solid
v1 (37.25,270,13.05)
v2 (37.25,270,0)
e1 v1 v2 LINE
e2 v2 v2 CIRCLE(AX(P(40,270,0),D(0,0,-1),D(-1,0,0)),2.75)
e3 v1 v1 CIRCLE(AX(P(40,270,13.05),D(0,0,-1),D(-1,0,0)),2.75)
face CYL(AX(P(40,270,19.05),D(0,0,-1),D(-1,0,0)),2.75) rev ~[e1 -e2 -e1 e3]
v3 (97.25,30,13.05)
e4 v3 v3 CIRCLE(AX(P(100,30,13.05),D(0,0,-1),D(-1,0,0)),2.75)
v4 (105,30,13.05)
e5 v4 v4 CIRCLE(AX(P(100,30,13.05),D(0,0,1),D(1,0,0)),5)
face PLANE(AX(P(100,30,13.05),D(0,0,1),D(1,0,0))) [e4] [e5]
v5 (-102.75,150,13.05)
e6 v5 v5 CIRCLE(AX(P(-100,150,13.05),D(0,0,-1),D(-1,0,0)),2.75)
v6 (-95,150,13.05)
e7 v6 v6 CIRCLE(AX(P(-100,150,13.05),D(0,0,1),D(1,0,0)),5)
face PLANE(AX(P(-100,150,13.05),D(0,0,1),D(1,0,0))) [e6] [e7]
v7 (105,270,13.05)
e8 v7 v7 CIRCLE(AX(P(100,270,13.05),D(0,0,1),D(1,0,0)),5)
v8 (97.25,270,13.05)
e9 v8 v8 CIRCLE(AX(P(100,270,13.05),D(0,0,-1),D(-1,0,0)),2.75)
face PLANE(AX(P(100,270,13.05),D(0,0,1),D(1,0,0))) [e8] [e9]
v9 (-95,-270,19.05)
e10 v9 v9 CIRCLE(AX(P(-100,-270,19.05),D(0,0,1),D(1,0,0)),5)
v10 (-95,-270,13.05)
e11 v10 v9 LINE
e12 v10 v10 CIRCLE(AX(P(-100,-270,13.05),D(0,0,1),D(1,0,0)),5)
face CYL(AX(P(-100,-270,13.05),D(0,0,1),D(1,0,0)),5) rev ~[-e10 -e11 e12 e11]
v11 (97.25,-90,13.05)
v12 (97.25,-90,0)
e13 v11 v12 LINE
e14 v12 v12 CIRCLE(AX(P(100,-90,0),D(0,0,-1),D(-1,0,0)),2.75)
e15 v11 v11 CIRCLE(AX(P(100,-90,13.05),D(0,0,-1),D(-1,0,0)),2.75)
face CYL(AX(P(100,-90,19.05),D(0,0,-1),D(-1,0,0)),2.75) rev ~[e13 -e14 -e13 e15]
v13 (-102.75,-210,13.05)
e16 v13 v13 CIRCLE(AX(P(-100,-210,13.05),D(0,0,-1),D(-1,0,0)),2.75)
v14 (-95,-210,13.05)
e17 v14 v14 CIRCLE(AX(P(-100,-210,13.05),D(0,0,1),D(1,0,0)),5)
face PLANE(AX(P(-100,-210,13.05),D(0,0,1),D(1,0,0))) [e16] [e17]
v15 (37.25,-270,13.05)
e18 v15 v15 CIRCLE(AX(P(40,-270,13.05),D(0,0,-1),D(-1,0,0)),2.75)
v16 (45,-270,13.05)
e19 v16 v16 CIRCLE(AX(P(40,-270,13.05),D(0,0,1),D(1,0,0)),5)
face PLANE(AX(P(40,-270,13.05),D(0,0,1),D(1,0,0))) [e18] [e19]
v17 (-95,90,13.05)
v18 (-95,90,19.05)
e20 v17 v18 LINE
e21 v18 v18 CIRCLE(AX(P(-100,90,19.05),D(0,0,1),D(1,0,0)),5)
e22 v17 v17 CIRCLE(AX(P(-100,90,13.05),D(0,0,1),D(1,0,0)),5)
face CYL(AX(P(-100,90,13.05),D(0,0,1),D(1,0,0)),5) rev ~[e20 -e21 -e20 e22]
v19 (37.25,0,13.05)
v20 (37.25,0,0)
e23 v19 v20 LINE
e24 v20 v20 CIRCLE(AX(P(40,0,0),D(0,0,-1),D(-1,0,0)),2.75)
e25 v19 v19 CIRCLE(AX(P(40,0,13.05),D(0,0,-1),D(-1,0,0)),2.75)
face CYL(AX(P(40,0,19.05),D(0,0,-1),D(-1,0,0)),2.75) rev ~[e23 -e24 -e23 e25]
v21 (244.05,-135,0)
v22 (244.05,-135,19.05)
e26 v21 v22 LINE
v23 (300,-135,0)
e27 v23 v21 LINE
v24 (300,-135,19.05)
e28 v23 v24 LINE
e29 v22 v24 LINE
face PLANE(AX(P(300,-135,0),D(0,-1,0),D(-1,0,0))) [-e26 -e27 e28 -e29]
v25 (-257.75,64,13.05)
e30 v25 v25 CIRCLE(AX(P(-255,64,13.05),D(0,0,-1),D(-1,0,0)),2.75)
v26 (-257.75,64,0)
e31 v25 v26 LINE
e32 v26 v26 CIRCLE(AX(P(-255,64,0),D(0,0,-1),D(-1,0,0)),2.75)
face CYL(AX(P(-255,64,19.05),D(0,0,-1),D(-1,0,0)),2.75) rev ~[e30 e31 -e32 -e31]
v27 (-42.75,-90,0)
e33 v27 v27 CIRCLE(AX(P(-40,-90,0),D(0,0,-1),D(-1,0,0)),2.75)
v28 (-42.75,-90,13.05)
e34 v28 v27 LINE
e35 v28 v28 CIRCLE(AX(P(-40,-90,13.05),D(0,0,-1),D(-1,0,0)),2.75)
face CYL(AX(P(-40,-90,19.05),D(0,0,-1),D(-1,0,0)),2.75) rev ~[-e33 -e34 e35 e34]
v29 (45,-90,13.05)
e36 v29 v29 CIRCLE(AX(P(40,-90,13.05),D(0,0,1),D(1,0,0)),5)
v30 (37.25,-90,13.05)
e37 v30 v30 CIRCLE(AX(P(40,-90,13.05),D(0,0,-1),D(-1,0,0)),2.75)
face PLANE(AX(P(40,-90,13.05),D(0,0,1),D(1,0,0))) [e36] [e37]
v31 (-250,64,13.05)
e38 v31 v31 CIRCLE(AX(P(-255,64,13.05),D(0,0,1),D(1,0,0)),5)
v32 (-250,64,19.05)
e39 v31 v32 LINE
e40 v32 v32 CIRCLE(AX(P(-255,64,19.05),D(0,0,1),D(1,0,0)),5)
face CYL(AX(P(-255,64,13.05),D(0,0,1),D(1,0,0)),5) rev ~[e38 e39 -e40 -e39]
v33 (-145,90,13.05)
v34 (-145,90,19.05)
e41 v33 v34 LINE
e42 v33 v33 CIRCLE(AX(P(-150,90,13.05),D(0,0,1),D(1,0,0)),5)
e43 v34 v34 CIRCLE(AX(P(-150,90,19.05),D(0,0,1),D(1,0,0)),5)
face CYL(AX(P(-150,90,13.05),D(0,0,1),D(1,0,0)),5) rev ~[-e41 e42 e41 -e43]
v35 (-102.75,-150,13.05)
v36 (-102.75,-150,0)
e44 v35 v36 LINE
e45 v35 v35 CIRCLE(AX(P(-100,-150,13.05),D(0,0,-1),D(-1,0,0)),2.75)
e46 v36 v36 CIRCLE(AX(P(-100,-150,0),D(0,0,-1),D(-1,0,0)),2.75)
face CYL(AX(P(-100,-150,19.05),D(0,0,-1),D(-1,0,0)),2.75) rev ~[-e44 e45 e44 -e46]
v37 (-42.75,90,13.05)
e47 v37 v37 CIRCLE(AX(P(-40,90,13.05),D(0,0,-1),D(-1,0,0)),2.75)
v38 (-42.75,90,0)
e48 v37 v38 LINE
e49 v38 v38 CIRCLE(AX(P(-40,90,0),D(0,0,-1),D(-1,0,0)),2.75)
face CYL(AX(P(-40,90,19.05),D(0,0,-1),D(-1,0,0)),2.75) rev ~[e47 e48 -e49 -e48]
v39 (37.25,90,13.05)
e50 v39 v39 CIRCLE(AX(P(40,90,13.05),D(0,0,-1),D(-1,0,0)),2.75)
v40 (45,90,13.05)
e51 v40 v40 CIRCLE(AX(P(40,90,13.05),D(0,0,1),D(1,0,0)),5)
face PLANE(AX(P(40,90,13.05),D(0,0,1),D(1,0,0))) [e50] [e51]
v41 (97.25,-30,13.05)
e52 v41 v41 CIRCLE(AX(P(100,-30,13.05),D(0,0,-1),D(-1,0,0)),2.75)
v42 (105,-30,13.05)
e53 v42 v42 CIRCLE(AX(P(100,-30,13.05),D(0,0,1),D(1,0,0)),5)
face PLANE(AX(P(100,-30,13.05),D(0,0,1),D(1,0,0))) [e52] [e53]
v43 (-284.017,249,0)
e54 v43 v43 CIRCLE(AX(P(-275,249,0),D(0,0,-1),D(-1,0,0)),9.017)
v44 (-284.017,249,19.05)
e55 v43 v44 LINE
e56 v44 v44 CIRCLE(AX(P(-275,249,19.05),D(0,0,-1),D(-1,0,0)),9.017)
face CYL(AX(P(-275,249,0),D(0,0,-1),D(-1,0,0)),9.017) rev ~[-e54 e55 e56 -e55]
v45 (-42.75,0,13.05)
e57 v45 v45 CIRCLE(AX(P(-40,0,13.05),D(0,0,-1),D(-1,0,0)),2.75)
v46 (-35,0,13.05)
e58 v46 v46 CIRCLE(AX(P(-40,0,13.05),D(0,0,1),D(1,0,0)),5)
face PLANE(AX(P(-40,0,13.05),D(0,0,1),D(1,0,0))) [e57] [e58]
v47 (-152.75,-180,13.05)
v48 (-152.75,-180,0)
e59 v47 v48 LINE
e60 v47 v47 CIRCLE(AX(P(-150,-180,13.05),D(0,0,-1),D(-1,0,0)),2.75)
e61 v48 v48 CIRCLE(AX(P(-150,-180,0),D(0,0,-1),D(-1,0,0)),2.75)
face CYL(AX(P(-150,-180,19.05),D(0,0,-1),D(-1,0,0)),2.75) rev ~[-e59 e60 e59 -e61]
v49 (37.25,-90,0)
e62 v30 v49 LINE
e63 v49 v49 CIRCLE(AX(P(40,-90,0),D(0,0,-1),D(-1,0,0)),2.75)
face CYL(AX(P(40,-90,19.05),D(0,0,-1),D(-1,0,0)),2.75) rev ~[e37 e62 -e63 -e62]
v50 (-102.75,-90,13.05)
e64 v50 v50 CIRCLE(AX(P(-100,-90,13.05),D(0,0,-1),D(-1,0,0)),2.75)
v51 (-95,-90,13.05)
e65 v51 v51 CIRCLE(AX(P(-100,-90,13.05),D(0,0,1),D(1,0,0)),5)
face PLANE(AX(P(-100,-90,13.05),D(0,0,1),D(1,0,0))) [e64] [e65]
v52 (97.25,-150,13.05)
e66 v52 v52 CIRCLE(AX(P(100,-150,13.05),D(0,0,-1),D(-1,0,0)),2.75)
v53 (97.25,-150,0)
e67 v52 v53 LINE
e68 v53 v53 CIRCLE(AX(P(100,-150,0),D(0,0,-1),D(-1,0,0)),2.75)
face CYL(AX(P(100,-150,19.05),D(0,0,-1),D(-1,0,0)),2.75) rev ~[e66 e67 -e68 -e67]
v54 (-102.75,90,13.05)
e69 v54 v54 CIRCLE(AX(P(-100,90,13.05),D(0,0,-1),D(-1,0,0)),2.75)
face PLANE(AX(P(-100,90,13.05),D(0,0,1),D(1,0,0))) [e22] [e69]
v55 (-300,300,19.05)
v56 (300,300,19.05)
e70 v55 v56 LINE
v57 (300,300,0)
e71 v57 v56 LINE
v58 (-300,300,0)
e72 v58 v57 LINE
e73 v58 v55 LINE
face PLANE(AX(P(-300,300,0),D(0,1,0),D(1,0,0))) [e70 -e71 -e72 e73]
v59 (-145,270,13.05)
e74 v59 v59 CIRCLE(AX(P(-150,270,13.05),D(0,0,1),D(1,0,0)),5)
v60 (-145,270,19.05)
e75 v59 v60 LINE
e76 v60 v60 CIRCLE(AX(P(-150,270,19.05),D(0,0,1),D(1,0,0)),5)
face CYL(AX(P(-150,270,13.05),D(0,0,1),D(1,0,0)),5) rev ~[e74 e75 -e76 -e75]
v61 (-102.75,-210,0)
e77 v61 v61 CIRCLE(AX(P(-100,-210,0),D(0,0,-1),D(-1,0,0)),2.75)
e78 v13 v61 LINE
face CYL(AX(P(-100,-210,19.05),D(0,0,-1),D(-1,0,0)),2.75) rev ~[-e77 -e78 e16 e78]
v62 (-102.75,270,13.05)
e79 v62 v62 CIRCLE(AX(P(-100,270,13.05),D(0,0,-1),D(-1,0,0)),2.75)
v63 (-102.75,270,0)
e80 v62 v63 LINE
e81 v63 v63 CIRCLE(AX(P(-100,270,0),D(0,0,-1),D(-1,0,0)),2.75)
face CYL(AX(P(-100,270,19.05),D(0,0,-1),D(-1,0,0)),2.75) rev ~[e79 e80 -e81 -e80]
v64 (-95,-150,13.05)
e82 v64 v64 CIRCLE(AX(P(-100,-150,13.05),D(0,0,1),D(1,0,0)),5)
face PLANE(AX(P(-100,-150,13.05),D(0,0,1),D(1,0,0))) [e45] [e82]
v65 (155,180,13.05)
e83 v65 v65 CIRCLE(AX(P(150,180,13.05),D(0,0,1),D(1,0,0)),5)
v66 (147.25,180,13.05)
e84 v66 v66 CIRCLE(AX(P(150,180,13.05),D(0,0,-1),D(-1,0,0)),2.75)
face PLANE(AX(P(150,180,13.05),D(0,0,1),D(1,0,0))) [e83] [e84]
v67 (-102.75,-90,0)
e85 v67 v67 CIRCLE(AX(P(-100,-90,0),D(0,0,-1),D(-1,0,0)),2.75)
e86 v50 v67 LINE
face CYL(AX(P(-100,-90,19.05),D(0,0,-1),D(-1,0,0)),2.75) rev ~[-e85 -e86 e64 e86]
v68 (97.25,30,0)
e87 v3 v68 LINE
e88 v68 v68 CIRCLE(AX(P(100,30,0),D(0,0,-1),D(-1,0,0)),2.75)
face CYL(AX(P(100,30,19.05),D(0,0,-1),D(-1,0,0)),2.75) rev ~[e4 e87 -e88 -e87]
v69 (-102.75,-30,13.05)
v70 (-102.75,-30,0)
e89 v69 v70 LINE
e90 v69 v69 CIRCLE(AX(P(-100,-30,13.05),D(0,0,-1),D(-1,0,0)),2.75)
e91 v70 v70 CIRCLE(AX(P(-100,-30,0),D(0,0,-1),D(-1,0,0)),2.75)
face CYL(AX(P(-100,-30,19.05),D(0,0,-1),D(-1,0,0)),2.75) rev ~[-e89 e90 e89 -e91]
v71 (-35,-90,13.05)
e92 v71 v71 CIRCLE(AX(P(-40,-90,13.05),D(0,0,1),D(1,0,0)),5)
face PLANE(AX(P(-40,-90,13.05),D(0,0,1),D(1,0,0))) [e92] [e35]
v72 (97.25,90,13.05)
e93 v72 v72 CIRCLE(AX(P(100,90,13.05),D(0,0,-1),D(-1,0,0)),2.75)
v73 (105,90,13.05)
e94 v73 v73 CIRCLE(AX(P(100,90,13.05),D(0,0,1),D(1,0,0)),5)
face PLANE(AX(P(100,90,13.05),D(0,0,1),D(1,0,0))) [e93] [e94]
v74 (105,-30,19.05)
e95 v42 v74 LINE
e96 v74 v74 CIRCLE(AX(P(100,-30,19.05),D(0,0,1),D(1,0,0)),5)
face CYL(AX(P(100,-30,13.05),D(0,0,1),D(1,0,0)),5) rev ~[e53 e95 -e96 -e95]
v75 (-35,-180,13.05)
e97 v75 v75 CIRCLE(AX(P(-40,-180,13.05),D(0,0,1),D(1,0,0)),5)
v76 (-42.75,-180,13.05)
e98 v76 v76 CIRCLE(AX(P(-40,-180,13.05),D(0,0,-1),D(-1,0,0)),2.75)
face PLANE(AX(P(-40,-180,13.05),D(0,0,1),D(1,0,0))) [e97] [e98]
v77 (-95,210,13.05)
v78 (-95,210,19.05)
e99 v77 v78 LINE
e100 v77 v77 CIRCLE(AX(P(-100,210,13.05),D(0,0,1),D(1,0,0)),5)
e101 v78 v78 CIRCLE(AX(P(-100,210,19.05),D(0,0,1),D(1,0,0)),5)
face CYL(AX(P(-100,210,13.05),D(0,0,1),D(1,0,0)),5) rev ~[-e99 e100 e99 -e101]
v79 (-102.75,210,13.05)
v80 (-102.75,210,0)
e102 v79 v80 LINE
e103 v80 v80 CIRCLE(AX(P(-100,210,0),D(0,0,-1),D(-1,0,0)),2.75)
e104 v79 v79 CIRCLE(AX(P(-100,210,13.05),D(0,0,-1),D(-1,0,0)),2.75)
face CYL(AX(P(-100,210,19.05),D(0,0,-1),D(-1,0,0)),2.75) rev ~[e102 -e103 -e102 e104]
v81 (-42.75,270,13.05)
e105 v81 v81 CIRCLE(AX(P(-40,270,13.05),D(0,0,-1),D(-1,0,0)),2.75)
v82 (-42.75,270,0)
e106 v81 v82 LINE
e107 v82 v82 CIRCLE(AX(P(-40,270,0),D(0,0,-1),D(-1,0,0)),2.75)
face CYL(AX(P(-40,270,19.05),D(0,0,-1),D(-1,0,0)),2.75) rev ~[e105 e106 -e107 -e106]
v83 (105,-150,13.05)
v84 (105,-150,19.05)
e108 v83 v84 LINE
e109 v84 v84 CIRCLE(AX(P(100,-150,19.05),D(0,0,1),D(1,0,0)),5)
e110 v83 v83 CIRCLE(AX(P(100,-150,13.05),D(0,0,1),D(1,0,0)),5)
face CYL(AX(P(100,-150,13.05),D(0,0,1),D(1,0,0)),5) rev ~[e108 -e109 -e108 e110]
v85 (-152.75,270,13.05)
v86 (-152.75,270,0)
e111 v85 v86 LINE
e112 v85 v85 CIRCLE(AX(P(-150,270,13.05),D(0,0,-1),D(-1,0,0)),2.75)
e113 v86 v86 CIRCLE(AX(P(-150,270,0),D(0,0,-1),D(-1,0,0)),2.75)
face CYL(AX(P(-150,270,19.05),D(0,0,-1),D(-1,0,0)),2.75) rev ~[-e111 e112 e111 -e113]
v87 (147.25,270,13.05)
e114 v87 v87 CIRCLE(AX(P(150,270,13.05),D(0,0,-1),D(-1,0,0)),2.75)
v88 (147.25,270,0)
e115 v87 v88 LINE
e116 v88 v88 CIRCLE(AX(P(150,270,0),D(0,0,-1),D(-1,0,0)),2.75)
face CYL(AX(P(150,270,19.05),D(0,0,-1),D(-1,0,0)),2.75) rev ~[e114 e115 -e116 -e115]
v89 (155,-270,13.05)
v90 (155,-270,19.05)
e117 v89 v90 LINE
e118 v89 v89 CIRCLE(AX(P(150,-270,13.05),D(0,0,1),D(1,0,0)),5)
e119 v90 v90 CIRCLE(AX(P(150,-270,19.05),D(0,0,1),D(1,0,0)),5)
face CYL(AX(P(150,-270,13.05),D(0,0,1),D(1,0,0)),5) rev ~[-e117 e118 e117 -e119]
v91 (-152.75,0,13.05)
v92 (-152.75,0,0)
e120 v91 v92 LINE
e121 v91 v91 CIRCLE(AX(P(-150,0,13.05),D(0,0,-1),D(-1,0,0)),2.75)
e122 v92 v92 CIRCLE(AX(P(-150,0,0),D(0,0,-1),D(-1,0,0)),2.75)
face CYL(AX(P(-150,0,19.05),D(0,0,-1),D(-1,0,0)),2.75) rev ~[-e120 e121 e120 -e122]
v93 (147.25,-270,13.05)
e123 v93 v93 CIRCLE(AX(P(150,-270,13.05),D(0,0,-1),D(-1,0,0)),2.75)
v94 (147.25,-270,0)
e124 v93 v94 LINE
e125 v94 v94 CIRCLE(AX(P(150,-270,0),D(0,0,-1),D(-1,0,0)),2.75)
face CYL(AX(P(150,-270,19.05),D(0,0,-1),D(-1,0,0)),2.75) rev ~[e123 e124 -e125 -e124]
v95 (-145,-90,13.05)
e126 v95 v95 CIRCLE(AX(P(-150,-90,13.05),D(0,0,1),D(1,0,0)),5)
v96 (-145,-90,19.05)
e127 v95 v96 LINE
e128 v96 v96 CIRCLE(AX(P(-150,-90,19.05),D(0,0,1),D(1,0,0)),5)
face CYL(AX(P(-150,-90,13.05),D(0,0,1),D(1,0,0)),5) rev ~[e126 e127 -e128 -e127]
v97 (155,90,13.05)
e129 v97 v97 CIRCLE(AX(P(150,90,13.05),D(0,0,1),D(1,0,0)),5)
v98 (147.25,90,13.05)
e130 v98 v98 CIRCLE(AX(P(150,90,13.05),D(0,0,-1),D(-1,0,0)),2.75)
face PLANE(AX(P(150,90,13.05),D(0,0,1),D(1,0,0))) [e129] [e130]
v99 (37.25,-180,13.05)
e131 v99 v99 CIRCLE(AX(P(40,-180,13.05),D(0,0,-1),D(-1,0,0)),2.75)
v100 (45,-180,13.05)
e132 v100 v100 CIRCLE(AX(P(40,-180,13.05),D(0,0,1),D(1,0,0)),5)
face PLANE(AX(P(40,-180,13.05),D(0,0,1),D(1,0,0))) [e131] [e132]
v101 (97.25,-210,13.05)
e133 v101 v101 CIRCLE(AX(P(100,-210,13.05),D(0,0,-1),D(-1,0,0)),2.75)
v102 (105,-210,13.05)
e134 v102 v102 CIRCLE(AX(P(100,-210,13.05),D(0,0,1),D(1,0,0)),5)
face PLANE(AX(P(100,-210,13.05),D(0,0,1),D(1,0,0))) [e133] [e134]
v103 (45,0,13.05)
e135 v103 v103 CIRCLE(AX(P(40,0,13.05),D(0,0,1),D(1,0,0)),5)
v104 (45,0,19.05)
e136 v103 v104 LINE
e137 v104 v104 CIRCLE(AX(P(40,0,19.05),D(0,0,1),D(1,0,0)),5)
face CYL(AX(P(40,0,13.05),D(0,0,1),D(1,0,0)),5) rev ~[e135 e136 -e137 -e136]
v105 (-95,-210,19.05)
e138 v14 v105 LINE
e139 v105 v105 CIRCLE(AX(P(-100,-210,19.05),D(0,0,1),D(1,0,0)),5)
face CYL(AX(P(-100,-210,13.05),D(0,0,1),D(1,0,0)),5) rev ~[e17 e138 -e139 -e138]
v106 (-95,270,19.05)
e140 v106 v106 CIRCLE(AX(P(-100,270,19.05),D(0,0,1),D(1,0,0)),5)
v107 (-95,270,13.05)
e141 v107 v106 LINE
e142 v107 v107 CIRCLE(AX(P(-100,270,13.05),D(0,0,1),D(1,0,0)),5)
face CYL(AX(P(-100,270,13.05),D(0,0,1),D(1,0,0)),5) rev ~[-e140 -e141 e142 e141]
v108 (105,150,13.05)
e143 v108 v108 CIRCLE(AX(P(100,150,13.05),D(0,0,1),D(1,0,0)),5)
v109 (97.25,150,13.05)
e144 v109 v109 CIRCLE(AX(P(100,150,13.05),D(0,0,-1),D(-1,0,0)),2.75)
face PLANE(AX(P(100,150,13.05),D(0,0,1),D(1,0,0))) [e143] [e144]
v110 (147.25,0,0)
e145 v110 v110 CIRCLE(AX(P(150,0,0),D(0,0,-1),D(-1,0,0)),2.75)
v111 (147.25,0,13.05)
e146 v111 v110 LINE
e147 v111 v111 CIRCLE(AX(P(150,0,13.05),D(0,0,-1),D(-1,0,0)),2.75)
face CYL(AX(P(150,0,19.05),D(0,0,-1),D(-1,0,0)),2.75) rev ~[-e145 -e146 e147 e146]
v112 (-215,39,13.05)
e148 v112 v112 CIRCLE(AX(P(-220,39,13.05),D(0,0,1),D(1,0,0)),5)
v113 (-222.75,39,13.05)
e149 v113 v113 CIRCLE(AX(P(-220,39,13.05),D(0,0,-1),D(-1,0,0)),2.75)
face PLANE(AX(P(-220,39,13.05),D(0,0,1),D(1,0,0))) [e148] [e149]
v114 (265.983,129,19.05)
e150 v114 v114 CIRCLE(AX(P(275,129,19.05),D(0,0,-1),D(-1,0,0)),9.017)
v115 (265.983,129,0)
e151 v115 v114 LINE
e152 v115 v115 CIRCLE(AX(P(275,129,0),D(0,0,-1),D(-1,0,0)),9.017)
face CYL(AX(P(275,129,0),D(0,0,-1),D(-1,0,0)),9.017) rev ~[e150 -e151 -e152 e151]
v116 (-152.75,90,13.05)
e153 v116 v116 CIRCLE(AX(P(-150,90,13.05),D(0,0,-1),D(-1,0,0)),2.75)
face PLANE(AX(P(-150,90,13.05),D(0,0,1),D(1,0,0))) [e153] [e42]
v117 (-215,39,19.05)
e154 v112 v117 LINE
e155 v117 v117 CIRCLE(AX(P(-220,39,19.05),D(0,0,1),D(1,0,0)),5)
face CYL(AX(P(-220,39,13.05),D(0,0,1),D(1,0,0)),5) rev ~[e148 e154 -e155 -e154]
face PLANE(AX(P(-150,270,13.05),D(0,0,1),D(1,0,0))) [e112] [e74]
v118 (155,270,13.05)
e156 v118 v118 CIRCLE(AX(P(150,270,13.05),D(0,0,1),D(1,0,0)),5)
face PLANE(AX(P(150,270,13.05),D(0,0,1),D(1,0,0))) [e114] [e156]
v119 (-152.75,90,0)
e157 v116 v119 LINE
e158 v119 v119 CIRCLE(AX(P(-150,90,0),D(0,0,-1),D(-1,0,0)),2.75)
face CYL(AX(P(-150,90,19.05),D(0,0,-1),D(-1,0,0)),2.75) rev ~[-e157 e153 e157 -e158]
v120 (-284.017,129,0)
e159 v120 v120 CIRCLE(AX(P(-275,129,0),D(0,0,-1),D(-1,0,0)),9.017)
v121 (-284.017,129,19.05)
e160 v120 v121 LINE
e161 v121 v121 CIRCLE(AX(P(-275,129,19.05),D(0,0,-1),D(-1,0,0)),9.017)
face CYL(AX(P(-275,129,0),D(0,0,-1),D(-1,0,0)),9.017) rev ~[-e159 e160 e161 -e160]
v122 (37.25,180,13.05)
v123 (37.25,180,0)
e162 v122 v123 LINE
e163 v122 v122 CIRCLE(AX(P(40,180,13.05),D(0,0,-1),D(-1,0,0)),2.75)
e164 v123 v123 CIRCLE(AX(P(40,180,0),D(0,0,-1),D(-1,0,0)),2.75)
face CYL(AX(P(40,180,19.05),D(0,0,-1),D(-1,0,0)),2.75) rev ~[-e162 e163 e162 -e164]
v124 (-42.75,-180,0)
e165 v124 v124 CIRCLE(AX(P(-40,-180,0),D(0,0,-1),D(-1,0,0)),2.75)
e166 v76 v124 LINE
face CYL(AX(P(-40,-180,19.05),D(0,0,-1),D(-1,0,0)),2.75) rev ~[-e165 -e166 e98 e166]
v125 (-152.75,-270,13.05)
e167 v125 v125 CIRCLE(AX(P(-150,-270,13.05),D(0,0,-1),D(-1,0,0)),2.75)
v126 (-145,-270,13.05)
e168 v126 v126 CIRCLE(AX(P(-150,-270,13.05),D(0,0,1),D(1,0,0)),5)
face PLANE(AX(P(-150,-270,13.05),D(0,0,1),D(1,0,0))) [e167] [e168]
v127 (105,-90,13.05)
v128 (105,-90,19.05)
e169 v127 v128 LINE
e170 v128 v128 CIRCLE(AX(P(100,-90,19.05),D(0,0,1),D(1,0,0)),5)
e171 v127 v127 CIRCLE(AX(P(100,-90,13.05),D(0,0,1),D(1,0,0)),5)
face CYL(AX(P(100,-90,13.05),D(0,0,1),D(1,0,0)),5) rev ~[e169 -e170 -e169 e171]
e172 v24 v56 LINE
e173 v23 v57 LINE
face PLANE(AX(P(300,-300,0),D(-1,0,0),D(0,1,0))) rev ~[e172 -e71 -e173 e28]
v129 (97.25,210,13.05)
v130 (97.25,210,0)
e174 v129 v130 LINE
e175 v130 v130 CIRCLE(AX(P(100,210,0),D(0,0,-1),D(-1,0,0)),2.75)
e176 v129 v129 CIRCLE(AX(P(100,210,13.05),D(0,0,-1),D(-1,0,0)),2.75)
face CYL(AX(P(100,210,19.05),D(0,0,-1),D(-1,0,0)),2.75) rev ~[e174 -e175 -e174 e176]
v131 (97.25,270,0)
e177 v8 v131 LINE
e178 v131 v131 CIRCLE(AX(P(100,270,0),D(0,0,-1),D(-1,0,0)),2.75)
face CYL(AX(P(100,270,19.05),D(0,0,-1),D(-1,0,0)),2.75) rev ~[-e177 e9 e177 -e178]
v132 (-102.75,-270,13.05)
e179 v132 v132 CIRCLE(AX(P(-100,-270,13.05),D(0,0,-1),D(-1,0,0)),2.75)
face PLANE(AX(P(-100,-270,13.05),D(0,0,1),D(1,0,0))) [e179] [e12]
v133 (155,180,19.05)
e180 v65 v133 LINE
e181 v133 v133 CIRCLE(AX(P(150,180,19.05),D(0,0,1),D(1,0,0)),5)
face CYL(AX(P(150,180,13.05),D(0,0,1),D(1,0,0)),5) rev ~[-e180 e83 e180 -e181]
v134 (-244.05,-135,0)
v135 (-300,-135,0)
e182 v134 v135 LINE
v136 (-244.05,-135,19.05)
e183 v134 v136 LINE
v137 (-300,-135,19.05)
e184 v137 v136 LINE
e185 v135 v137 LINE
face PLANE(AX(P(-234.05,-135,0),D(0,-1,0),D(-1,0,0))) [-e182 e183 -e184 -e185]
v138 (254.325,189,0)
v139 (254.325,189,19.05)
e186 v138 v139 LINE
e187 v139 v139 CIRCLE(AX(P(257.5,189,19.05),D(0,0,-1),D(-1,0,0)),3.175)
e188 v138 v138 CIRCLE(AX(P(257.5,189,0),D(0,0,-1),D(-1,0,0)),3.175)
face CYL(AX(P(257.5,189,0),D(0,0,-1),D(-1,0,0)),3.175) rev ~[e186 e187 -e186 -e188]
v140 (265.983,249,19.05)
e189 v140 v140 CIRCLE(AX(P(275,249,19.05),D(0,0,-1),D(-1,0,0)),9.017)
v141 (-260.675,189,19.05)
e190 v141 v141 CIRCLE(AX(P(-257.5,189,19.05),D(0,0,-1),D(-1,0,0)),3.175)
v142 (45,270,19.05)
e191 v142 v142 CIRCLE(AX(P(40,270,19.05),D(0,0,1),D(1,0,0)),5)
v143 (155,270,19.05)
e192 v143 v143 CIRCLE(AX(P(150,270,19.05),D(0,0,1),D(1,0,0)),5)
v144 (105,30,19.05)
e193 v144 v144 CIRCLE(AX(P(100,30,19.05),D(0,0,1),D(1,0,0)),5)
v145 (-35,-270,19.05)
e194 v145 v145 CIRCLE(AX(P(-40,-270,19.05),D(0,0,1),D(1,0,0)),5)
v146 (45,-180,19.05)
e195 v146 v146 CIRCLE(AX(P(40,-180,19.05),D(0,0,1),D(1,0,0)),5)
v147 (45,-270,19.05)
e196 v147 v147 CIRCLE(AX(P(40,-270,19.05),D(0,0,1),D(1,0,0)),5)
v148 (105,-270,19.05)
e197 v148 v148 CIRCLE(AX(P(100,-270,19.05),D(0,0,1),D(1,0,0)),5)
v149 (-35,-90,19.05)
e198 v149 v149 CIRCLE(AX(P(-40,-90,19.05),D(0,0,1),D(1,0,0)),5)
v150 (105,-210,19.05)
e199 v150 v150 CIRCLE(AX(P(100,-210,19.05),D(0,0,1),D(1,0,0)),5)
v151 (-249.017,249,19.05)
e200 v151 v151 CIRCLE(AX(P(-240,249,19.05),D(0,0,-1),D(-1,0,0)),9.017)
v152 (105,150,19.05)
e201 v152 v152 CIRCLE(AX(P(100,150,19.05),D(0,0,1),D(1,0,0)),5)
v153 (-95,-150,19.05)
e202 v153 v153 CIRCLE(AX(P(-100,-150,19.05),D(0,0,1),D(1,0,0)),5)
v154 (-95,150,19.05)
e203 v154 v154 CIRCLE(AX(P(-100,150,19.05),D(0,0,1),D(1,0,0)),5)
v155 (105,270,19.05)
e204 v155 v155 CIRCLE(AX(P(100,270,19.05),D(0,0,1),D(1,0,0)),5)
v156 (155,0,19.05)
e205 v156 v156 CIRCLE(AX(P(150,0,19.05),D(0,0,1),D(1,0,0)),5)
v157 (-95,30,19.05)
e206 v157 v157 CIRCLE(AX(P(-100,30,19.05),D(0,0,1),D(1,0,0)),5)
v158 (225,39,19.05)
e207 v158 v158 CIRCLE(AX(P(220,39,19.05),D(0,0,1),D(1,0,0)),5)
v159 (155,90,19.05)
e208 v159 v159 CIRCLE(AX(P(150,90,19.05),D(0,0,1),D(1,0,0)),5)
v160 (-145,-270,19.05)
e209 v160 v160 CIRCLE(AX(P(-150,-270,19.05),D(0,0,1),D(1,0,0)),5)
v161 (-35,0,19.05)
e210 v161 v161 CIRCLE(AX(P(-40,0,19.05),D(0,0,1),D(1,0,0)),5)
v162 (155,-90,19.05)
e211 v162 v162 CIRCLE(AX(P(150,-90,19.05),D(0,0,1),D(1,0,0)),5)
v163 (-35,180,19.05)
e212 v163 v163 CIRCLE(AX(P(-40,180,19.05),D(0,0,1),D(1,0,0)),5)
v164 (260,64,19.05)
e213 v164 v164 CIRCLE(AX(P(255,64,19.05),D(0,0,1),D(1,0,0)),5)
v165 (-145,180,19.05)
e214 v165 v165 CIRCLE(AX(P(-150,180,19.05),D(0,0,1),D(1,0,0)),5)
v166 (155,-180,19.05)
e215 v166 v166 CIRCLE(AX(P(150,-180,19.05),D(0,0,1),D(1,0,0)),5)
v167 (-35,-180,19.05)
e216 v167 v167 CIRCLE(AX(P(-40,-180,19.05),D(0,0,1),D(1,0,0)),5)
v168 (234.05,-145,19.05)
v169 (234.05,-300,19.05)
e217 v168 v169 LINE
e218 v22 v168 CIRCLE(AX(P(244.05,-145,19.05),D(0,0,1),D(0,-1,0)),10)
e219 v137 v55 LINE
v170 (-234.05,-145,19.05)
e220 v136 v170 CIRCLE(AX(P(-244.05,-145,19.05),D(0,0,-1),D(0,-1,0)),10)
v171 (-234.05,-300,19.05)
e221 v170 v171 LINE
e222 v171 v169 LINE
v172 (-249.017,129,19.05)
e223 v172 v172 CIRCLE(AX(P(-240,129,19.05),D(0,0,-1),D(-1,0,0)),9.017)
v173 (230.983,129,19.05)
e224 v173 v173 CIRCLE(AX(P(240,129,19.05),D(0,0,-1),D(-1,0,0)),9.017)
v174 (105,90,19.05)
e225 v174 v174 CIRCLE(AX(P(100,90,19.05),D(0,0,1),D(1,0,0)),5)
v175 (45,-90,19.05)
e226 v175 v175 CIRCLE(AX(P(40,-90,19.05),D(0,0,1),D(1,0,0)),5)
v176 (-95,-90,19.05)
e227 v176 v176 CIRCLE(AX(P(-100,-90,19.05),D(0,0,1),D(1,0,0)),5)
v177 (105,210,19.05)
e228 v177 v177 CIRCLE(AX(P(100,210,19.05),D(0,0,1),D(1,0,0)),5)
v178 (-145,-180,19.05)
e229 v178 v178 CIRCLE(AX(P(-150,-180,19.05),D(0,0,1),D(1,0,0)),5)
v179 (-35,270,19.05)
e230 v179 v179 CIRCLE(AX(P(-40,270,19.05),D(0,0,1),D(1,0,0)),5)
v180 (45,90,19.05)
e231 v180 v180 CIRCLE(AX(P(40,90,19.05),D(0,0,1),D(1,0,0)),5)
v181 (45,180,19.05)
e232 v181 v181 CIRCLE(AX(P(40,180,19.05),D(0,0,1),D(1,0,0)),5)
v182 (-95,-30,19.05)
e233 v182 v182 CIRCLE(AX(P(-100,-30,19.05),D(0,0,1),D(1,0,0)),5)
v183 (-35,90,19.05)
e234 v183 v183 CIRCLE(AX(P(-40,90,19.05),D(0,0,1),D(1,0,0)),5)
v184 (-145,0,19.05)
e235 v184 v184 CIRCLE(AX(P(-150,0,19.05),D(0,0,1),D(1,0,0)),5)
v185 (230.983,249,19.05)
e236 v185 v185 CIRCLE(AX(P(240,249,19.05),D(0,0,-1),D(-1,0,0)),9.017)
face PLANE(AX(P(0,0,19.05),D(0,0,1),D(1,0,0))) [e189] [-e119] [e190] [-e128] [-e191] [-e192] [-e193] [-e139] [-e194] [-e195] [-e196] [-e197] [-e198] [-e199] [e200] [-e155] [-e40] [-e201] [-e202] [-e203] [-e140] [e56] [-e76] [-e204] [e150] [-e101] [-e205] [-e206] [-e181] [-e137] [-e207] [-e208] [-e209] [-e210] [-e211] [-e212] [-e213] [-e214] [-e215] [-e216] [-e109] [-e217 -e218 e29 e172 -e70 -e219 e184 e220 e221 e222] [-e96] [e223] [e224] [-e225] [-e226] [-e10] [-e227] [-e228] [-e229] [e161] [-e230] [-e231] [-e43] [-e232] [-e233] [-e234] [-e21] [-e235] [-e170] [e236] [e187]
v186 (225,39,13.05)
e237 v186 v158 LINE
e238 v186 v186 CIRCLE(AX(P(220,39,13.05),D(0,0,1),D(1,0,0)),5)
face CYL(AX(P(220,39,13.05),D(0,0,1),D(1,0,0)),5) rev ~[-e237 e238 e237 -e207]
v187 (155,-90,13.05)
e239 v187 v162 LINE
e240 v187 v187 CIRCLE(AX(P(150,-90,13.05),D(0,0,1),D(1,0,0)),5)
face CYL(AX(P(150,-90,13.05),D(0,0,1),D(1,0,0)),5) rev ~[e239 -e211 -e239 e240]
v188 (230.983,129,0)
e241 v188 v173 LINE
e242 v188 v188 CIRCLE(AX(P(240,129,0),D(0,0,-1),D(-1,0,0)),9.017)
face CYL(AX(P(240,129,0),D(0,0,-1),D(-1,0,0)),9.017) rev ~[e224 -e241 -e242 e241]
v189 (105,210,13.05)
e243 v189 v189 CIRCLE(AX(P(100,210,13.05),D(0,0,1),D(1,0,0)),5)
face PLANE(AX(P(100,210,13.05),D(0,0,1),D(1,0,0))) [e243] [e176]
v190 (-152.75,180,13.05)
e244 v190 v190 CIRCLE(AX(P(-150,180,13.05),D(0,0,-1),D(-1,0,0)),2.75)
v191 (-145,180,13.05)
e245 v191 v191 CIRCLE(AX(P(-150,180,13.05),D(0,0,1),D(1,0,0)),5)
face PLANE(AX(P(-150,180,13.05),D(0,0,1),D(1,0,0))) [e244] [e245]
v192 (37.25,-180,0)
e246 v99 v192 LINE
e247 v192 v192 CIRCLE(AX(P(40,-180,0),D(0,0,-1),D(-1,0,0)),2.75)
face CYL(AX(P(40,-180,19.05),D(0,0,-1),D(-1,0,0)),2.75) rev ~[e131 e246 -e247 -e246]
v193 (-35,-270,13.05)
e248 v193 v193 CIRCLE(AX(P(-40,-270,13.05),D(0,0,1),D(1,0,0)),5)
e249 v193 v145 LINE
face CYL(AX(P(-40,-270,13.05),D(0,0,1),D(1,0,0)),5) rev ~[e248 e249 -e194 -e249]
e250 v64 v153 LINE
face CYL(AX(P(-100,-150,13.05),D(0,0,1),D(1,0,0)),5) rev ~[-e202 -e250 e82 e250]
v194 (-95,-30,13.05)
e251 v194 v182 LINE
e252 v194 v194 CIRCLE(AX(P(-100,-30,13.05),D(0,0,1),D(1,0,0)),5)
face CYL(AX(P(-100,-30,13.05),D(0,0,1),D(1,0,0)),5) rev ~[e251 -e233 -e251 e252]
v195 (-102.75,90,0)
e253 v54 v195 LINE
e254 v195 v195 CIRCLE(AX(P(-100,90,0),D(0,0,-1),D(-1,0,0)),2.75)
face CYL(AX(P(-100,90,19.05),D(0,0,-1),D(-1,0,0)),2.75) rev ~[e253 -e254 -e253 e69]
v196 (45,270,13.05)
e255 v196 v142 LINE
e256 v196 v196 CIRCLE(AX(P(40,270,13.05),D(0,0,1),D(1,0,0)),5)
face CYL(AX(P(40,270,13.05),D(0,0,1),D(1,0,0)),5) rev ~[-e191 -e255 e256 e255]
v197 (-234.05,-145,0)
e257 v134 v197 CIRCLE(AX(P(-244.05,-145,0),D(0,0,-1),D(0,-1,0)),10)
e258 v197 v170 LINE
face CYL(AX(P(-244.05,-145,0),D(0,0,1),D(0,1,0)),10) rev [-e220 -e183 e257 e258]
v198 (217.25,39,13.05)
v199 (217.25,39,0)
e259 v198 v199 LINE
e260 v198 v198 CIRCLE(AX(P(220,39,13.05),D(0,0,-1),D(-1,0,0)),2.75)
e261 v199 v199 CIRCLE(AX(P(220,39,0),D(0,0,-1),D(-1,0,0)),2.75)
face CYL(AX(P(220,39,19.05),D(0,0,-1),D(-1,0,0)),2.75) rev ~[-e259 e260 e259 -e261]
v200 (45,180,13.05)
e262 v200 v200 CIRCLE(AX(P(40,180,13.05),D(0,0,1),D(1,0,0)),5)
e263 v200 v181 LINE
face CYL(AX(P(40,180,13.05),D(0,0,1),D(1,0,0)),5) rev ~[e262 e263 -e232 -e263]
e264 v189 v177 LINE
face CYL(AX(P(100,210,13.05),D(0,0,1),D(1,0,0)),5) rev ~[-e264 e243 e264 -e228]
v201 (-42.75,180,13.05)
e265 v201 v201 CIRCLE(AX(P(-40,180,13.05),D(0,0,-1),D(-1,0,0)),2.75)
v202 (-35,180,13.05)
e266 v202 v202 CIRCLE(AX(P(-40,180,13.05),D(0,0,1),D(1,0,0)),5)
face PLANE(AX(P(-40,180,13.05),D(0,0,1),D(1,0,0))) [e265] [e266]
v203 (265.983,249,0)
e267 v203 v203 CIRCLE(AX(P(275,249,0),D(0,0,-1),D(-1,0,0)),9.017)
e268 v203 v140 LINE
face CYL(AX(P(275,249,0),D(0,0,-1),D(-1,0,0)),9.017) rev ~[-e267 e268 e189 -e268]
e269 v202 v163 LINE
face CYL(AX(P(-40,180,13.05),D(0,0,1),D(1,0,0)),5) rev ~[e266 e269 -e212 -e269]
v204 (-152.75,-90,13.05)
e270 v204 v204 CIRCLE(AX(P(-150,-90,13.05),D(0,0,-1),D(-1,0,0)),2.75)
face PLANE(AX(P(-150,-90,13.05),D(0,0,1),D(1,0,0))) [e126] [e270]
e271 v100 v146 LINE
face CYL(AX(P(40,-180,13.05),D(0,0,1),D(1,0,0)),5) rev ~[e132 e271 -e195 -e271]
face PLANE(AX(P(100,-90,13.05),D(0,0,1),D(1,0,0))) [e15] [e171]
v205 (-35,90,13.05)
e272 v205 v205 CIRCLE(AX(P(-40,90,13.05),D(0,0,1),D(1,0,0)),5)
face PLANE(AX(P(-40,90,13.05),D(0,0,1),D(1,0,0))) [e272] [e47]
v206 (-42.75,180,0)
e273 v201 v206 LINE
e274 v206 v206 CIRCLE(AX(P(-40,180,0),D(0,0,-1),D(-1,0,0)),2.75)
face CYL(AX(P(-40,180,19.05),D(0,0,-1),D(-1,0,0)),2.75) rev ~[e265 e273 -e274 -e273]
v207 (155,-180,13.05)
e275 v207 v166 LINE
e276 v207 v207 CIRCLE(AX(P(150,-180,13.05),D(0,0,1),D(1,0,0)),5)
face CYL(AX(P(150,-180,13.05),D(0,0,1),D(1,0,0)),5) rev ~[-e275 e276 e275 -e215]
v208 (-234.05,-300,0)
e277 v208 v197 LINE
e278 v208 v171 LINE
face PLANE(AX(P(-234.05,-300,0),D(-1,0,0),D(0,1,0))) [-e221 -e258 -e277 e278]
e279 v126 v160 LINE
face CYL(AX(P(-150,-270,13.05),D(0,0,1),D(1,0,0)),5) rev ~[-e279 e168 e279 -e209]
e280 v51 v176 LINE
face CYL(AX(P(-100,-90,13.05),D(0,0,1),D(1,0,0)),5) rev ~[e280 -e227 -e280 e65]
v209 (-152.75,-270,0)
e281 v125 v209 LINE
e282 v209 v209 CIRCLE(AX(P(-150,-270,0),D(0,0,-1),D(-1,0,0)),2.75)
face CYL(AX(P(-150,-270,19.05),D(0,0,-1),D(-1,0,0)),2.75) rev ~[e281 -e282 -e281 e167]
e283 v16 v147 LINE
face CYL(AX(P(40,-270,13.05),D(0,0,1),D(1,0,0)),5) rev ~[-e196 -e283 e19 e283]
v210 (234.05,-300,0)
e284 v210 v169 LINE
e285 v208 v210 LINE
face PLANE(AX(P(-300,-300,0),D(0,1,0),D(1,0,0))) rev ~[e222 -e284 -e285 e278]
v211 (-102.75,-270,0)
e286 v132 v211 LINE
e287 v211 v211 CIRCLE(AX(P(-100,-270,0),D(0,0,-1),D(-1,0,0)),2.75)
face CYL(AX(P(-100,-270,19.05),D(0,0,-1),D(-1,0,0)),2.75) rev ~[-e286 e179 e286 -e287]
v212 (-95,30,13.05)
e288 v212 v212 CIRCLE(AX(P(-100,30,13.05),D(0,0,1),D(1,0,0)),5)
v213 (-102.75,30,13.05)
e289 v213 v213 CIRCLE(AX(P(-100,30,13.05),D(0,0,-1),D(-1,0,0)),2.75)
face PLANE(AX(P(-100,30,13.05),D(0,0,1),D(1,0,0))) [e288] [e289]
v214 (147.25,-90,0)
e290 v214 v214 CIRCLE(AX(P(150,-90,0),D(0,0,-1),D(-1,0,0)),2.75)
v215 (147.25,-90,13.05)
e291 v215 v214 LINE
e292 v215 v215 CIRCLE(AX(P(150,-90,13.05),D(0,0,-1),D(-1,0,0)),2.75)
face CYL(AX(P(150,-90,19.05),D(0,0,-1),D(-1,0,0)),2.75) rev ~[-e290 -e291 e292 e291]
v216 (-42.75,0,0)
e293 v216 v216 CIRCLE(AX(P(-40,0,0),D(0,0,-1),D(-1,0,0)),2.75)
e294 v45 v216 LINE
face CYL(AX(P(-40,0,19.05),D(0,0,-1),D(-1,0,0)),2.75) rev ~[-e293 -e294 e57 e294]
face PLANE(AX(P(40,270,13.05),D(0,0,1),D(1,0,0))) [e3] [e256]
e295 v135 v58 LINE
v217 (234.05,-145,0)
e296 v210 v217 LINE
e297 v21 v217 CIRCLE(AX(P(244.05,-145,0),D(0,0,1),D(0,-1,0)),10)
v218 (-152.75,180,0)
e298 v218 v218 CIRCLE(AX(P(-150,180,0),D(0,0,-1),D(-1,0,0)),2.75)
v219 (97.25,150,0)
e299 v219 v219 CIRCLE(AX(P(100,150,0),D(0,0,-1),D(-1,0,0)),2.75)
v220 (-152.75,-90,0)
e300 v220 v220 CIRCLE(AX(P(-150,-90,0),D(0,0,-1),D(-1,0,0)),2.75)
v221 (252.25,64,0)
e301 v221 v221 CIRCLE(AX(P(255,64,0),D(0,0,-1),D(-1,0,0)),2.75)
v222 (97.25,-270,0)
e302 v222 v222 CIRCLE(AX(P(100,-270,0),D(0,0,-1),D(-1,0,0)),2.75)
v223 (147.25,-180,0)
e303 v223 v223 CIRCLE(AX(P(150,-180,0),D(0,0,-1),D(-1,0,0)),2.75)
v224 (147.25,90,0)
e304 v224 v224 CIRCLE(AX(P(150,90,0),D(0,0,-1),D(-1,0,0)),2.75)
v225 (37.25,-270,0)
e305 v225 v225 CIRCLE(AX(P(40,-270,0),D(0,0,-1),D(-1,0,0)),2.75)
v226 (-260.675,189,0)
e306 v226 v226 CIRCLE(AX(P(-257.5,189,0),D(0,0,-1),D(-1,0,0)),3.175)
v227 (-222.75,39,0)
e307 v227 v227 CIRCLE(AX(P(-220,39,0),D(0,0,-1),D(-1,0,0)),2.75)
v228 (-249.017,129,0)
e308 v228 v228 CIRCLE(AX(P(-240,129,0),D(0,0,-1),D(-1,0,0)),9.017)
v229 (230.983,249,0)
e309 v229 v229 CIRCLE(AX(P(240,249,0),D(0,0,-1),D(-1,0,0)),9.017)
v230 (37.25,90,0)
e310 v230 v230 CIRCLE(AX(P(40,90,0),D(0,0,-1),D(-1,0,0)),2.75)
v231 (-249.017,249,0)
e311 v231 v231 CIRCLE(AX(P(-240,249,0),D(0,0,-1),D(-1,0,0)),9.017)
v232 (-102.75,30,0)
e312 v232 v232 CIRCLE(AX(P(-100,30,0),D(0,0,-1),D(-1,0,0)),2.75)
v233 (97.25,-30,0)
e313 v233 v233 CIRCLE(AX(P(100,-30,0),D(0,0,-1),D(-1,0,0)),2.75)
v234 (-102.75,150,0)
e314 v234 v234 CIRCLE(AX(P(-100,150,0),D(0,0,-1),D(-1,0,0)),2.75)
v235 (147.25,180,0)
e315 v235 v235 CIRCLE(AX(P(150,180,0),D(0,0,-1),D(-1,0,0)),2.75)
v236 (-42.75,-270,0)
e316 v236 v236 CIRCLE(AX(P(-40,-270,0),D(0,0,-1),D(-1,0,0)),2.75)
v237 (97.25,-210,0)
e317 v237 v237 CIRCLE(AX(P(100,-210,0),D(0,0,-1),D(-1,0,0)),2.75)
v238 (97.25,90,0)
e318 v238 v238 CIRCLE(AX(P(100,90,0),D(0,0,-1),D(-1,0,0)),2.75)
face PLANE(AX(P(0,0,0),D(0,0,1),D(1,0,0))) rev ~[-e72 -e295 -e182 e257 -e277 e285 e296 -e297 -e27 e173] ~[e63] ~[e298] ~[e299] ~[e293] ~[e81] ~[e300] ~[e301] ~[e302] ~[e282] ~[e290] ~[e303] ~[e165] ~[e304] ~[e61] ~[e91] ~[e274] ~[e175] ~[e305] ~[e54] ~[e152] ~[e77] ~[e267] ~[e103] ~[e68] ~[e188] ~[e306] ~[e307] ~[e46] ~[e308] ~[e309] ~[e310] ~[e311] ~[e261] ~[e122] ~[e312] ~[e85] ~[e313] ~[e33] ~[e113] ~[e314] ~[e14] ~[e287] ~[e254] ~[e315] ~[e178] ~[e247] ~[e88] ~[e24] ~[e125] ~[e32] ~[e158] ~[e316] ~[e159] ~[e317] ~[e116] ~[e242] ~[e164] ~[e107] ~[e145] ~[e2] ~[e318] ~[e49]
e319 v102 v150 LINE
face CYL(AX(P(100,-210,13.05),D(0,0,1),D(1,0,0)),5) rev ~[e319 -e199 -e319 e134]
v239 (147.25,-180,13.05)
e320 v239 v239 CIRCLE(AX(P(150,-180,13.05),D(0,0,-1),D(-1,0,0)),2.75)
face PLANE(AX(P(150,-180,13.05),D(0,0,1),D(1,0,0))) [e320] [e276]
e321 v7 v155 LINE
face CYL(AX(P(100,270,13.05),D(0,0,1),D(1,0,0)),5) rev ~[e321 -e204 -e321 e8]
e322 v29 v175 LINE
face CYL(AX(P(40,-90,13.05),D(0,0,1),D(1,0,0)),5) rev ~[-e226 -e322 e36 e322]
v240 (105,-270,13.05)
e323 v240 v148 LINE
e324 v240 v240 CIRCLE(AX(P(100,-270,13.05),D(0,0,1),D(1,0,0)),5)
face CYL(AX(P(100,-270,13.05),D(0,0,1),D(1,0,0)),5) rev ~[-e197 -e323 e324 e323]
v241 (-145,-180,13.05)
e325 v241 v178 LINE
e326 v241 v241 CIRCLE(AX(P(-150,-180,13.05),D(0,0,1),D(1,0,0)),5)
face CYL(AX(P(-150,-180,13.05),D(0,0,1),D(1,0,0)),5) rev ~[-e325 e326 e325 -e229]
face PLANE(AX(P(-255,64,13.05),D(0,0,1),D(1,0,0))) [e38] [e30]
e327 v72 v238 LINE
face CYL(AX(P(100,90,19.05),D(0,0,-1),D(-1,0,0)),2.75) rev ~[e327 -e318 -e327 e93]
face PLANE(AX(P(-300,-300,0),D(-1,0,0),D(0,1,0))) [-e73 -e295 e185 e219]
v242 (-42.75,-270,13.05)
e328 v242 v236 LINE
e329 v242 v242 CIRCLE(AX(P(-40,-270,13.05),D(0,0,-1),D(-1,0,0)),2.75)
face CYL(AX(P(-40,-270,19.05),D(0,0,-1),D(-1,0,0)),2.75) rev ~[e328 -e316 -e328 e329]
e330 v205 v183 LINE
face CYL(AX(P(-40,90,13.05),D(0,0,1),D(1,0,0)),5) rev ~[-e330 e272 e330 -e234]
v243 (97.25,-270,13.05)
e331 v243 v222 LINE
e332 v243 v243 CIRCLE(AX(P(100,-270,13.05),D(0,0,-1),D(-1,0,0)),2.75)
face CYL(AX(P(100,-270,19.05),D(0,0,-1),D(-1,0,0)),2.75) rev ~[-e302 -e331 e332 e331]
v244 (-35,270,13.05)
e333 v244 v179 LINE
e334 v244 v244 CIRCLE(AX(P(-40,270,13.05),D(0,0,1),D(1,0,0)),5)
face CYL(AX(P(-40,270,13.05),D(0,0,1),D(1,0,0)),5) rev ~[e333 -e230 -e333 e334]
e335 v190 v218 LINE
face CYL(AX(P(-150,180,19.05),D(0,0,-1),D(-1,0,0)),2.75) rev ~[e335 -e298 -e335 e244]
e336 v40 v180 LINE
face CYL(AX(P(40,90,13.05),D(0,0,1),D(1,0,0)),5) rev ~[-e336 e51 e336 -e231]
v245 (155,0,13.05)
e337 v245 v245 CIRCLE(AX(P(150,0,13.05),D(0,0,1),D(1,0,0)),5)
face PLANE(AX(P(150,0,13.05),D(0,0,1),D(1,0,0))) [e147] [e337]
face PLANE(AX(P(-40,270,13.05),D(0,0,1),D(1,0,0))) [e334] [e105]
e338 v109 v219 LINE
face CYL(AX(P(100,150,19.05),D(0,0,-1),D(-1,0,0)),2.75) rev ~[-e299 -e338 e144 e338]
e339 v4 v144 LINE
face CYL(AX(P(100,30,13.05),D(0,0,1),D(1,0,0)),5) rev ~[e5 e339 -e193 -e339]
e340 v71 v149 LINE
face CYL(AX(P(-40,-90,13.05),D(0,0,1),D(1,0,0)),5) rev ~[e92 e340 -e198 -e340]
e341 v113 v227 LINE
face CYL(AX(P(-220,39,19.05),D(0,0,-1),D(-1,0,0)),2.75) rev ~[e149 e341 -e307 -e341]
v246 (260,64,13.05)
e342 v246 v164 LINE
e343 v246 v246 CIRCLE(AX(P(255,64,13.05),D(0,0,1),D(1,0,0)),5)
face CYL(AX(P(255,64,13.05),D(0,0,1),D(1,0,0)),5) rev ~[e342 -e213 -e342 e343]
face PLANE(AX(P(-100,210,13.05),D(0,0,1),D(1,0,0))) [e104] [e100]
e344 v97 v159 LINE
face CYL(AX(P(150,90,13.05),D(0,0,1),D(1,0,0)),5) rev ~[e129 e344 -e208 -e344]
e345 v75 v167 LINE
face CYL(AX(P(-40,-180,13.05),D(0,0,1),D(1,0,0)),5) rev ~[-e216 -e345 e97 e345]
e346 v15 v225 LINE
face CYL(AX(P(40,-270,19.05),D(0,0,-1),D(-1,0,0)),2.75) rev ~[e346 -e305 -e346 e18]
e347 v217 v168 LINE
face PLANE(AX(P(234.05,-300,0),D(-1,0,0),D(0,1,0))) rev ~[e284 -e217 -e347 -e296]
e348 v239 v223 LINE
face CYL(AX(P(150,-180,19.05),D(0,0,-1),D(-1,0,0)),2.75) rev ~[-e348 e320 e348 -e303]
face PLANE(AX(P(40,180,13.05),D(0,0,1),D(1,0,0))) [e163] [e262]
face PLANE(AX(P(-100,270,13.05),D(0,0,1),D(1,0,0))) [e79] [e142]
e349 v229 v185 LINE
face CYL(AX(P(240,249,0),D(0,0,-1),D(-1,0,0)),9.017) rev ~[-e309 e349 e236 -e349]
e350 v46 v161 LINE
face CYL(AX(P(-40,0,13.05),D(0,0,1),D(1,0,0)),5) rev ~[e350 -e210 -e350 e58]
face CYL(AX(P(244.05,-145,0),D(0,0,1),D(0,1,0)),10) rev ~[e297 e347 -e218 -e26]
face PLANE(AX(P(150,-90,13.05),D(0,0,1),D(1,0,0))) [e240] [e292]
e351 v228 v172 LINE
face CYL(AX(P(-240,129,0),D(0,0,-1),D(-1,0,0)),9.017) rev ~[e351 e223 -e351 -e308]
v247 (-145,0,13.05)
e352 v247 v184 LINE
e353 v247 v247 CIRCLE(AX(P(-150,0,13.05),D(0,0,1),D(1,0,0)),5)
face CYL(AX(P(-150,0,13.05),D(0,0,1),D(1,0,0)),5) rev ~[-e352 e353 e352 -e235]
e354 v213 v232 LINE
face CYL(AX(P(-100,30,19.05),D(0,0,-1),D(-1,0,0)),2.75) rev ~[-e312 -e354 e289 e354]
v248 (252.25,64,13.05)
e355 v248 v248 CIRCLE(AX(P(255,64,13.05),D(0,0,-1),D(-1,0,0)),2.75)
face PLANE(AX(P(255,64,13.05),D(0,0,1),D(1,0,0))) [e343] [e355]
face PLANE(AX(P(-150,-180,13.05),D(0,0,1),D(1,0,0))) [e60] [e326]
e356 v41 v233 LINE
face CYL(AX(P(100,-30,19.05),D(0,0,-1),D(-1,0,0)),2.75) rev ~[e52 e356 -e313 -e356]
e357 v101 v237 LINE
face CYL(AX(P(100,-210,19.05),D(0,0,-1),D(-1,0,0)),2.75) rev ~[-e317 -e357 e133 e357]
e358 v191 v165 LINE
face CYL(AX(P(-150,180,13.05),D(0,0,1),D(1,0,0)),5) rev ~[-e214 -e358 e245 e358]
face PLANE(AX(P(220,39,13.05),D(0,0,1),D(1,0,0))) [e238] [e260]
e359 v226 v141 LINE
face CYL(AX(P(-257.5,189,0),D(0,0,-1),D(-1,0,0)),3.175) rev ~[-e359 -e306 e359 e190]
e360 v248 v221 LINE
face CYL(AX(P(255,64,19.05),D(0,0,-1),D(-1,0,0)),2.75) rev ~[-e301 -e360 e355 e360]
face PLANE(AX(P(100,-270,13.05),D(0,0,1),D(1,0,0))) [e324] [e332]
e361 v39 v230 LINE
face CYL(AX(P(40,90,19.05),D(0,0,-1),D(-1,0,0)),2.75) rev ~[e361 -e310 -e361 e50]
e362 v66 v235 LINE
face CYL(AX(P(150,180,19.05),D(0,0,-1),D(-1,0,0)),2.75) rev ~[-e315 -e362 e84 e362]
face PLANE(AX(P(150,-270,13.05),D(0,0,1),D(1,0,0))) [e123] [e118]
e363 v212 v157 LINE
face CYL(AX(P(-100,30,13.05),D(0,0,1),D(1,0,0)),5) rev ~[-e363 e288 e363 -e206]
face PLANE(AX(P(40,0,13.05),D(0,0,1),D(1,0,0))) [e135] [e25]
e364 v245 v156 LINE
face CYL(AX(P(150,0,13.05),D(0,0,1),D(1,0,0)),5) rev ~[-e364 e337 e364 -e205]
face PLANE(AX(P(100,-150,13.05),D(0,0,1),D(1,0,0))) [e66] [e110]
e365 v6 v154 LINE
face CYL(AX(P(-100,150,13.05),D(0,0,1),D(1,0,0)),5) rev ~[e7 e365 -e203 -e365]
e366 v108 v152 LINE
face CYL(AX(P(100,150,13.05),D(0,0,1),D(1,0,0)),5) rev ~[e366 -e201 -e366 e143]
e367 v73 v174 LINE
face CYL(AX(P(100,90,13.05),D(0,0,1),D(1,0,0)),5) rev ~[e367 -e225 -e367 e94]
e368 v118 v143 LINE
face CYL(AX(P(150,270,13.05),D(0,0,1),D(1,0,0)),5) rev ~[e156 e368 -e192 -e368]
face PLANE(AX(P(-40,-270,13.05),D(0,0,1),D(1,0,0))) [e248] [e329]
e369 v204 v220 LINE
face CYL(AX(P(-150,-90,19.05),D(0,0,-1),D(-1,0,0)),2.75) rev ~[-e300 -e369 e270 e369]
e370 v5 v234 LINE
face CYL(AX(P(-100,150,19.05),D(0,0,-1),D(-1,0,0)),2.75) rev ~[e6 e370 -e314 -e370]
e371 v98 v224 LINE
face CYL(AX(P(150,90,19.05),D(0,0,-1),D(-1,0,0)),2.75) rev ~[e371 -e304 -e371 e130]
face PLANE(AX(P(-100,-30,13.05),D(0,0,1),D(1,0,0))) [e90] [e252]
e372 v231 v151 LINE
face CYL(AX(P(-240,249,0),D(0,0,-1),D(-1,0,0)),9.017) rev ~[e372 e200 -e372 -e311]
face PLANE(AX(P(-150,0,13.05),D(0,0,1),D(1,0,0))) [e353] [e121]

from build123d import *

# Parameters (mm, degrees)
SKETCH1_W                      = 600
SKETCH1_H                      = 600
BOSS_EXTRUDE1_DEPTH            = 19.05
SKETCH2_W                      = 65.95
SKETCH2_H                      = 165
CUT_EXTRUDE1_DEPTH             = 425.69153806
FILLET1_R                      = 10
SKETCH5_R                      = 9.017
SKETCH5_R_2                    = 3.175
CUT_EXTRUDE2_DEPTH             = 425.69153806
CBORE_FOR_M5_SHCS1_D           = 5.5
CBORE_FOR_M5_SHCS1_DEPTH       = 28.347633298
CBORE_FOR_M5_SHCS1_CBORE_D     = 10
CBORE_FOR_M5_SHCS1_CBORE_DEPTH = 6
CBORE_FOR_M5_SHCS1_TIP         = 1.652366702


with BuildPart() as part:
    # Sketch1 → Boss-Extrude1 (new body)
    with BuildSketch(Plane.XY):
        Rectangle(SKETCH1_W, SKETCH1_H)
    extrude(amount=BOSS_EXTRUDE1_DEPTH)

    # Sketch2 → Cut-Extrude1 (cut, through all)
    with BuildSketch(Plane(origin=(0, 0, 0), x_dir=(-1, 0, 0), z_dir=(0, 0, -1))):
        with Locations((267.025, -217.5)):
            Rectangle(SKETCH2_W, SKETCH2_H)
        with Locations((-267.025, -217.5)):
            Rectangle(SKETCH2_W, SKETCH2_H)
    extrude(amount=-CUT_EXTRUDE1_DEPTH, mode=Mode.SUBTRACT)

    # Fillet1
    fillet1_edges = [part.edges().sort_by_distance(p)[0] for p in [
        (-234.05, -135, 9.525),
        (234.05, -135, 9.525),
    ]]
    fillet(fillet1_edges, radius=FILLET1_R)

    # Sketch5 → Cut-Extrude2 (cut, through all)
    with BuildSketch(Plane(origin=(0, 0, 0), x_dir=(-1, 0, 0), z_dir=(0, 0, -1))):
        with Locations((240, 249)):
            Circle(SKETCH5_R)
        with Locations((275, 249)):
            Circle(SKETCH5_R)
        with Locations((257.5, 189)):
            Circle(SKETCH5_R_2)
        with Locations((275, 129)):
            Circle(SKETCH5_R)
        with Locations((240, 129)):
            Circle(SKETCH5_R)
        with Locations((-275, 129)):
            Circle(SKETCH5_R)
        with Locations((-240, 129)):
            Circle(SKETCH5_R)
        with Locations((-257.5, 189)):
            Circle(SKETCH5_R_2)
        with Locations((-275, 249)):
            Circle(SKETCH5_R)
        with Locations((-240, 249)):
            Circle(SKETCH5_R)
    extrude(amount=-CUT_EXTRUDE2_DEPTH, mode=Mode.SUBTRACT)

    # CBORE for M5 SHCS1
    with Locations(Plane.XY.offset(19.05)):
        with Locations((-100, 210), (-100, 270), (100, 270), (100, 210), (100, 150), (-100, 150), (-100, 90), (100, 90), (100, 30), (-100, 30), (-255, 64), (-220, 39), (255, 64), (220, 39), (100, -30), (-100, -30), (-100, -90), (100, -90), (100, -150), (-100, -150), (-100, -210), (100, -210), (100, -270), (-100, -270), (150, -270), (150, -180), (150, -90), (150, 0), (150, 90), (150, 180), (150, 270), (40, 270), (40, 180), (-40, 180), (-40, 270), (-150, 270), (-150, 180), (-150, 90), (-40, 90), (40, 90), (40, 0), (-40, 0), (-40, -90), (40, -90), (-150, -90), (-150, 0), (-150, -180), (-150, -270), (-40, -270), (-40, -180), (40, -180), (40, -270)):
            CounterBoreHole(CBORE_FOR_M5_SHCS1_D / 2, CBORE_FOR_M5_SHCS1_CBORE_D / 2, CBORE_FOR_M5_SHCS1_CBORE_DEPTH, depth=CBORE_FOR_M5_SHCS1_DEPTH)
            with Locations((0, 0, -(CBORE_FOR_M5_SHCS1_DEPTH + CBORE_FOR_M5_SHCS1_TIP / 2))):  # 118° drill point
                Cone(0, CBORE_FOR_M5_SHCS1_D / 2, CBORE_FOR_M5_SHCS1_TIP, mode=Mode.SUBTRACT)


solid = part.part
